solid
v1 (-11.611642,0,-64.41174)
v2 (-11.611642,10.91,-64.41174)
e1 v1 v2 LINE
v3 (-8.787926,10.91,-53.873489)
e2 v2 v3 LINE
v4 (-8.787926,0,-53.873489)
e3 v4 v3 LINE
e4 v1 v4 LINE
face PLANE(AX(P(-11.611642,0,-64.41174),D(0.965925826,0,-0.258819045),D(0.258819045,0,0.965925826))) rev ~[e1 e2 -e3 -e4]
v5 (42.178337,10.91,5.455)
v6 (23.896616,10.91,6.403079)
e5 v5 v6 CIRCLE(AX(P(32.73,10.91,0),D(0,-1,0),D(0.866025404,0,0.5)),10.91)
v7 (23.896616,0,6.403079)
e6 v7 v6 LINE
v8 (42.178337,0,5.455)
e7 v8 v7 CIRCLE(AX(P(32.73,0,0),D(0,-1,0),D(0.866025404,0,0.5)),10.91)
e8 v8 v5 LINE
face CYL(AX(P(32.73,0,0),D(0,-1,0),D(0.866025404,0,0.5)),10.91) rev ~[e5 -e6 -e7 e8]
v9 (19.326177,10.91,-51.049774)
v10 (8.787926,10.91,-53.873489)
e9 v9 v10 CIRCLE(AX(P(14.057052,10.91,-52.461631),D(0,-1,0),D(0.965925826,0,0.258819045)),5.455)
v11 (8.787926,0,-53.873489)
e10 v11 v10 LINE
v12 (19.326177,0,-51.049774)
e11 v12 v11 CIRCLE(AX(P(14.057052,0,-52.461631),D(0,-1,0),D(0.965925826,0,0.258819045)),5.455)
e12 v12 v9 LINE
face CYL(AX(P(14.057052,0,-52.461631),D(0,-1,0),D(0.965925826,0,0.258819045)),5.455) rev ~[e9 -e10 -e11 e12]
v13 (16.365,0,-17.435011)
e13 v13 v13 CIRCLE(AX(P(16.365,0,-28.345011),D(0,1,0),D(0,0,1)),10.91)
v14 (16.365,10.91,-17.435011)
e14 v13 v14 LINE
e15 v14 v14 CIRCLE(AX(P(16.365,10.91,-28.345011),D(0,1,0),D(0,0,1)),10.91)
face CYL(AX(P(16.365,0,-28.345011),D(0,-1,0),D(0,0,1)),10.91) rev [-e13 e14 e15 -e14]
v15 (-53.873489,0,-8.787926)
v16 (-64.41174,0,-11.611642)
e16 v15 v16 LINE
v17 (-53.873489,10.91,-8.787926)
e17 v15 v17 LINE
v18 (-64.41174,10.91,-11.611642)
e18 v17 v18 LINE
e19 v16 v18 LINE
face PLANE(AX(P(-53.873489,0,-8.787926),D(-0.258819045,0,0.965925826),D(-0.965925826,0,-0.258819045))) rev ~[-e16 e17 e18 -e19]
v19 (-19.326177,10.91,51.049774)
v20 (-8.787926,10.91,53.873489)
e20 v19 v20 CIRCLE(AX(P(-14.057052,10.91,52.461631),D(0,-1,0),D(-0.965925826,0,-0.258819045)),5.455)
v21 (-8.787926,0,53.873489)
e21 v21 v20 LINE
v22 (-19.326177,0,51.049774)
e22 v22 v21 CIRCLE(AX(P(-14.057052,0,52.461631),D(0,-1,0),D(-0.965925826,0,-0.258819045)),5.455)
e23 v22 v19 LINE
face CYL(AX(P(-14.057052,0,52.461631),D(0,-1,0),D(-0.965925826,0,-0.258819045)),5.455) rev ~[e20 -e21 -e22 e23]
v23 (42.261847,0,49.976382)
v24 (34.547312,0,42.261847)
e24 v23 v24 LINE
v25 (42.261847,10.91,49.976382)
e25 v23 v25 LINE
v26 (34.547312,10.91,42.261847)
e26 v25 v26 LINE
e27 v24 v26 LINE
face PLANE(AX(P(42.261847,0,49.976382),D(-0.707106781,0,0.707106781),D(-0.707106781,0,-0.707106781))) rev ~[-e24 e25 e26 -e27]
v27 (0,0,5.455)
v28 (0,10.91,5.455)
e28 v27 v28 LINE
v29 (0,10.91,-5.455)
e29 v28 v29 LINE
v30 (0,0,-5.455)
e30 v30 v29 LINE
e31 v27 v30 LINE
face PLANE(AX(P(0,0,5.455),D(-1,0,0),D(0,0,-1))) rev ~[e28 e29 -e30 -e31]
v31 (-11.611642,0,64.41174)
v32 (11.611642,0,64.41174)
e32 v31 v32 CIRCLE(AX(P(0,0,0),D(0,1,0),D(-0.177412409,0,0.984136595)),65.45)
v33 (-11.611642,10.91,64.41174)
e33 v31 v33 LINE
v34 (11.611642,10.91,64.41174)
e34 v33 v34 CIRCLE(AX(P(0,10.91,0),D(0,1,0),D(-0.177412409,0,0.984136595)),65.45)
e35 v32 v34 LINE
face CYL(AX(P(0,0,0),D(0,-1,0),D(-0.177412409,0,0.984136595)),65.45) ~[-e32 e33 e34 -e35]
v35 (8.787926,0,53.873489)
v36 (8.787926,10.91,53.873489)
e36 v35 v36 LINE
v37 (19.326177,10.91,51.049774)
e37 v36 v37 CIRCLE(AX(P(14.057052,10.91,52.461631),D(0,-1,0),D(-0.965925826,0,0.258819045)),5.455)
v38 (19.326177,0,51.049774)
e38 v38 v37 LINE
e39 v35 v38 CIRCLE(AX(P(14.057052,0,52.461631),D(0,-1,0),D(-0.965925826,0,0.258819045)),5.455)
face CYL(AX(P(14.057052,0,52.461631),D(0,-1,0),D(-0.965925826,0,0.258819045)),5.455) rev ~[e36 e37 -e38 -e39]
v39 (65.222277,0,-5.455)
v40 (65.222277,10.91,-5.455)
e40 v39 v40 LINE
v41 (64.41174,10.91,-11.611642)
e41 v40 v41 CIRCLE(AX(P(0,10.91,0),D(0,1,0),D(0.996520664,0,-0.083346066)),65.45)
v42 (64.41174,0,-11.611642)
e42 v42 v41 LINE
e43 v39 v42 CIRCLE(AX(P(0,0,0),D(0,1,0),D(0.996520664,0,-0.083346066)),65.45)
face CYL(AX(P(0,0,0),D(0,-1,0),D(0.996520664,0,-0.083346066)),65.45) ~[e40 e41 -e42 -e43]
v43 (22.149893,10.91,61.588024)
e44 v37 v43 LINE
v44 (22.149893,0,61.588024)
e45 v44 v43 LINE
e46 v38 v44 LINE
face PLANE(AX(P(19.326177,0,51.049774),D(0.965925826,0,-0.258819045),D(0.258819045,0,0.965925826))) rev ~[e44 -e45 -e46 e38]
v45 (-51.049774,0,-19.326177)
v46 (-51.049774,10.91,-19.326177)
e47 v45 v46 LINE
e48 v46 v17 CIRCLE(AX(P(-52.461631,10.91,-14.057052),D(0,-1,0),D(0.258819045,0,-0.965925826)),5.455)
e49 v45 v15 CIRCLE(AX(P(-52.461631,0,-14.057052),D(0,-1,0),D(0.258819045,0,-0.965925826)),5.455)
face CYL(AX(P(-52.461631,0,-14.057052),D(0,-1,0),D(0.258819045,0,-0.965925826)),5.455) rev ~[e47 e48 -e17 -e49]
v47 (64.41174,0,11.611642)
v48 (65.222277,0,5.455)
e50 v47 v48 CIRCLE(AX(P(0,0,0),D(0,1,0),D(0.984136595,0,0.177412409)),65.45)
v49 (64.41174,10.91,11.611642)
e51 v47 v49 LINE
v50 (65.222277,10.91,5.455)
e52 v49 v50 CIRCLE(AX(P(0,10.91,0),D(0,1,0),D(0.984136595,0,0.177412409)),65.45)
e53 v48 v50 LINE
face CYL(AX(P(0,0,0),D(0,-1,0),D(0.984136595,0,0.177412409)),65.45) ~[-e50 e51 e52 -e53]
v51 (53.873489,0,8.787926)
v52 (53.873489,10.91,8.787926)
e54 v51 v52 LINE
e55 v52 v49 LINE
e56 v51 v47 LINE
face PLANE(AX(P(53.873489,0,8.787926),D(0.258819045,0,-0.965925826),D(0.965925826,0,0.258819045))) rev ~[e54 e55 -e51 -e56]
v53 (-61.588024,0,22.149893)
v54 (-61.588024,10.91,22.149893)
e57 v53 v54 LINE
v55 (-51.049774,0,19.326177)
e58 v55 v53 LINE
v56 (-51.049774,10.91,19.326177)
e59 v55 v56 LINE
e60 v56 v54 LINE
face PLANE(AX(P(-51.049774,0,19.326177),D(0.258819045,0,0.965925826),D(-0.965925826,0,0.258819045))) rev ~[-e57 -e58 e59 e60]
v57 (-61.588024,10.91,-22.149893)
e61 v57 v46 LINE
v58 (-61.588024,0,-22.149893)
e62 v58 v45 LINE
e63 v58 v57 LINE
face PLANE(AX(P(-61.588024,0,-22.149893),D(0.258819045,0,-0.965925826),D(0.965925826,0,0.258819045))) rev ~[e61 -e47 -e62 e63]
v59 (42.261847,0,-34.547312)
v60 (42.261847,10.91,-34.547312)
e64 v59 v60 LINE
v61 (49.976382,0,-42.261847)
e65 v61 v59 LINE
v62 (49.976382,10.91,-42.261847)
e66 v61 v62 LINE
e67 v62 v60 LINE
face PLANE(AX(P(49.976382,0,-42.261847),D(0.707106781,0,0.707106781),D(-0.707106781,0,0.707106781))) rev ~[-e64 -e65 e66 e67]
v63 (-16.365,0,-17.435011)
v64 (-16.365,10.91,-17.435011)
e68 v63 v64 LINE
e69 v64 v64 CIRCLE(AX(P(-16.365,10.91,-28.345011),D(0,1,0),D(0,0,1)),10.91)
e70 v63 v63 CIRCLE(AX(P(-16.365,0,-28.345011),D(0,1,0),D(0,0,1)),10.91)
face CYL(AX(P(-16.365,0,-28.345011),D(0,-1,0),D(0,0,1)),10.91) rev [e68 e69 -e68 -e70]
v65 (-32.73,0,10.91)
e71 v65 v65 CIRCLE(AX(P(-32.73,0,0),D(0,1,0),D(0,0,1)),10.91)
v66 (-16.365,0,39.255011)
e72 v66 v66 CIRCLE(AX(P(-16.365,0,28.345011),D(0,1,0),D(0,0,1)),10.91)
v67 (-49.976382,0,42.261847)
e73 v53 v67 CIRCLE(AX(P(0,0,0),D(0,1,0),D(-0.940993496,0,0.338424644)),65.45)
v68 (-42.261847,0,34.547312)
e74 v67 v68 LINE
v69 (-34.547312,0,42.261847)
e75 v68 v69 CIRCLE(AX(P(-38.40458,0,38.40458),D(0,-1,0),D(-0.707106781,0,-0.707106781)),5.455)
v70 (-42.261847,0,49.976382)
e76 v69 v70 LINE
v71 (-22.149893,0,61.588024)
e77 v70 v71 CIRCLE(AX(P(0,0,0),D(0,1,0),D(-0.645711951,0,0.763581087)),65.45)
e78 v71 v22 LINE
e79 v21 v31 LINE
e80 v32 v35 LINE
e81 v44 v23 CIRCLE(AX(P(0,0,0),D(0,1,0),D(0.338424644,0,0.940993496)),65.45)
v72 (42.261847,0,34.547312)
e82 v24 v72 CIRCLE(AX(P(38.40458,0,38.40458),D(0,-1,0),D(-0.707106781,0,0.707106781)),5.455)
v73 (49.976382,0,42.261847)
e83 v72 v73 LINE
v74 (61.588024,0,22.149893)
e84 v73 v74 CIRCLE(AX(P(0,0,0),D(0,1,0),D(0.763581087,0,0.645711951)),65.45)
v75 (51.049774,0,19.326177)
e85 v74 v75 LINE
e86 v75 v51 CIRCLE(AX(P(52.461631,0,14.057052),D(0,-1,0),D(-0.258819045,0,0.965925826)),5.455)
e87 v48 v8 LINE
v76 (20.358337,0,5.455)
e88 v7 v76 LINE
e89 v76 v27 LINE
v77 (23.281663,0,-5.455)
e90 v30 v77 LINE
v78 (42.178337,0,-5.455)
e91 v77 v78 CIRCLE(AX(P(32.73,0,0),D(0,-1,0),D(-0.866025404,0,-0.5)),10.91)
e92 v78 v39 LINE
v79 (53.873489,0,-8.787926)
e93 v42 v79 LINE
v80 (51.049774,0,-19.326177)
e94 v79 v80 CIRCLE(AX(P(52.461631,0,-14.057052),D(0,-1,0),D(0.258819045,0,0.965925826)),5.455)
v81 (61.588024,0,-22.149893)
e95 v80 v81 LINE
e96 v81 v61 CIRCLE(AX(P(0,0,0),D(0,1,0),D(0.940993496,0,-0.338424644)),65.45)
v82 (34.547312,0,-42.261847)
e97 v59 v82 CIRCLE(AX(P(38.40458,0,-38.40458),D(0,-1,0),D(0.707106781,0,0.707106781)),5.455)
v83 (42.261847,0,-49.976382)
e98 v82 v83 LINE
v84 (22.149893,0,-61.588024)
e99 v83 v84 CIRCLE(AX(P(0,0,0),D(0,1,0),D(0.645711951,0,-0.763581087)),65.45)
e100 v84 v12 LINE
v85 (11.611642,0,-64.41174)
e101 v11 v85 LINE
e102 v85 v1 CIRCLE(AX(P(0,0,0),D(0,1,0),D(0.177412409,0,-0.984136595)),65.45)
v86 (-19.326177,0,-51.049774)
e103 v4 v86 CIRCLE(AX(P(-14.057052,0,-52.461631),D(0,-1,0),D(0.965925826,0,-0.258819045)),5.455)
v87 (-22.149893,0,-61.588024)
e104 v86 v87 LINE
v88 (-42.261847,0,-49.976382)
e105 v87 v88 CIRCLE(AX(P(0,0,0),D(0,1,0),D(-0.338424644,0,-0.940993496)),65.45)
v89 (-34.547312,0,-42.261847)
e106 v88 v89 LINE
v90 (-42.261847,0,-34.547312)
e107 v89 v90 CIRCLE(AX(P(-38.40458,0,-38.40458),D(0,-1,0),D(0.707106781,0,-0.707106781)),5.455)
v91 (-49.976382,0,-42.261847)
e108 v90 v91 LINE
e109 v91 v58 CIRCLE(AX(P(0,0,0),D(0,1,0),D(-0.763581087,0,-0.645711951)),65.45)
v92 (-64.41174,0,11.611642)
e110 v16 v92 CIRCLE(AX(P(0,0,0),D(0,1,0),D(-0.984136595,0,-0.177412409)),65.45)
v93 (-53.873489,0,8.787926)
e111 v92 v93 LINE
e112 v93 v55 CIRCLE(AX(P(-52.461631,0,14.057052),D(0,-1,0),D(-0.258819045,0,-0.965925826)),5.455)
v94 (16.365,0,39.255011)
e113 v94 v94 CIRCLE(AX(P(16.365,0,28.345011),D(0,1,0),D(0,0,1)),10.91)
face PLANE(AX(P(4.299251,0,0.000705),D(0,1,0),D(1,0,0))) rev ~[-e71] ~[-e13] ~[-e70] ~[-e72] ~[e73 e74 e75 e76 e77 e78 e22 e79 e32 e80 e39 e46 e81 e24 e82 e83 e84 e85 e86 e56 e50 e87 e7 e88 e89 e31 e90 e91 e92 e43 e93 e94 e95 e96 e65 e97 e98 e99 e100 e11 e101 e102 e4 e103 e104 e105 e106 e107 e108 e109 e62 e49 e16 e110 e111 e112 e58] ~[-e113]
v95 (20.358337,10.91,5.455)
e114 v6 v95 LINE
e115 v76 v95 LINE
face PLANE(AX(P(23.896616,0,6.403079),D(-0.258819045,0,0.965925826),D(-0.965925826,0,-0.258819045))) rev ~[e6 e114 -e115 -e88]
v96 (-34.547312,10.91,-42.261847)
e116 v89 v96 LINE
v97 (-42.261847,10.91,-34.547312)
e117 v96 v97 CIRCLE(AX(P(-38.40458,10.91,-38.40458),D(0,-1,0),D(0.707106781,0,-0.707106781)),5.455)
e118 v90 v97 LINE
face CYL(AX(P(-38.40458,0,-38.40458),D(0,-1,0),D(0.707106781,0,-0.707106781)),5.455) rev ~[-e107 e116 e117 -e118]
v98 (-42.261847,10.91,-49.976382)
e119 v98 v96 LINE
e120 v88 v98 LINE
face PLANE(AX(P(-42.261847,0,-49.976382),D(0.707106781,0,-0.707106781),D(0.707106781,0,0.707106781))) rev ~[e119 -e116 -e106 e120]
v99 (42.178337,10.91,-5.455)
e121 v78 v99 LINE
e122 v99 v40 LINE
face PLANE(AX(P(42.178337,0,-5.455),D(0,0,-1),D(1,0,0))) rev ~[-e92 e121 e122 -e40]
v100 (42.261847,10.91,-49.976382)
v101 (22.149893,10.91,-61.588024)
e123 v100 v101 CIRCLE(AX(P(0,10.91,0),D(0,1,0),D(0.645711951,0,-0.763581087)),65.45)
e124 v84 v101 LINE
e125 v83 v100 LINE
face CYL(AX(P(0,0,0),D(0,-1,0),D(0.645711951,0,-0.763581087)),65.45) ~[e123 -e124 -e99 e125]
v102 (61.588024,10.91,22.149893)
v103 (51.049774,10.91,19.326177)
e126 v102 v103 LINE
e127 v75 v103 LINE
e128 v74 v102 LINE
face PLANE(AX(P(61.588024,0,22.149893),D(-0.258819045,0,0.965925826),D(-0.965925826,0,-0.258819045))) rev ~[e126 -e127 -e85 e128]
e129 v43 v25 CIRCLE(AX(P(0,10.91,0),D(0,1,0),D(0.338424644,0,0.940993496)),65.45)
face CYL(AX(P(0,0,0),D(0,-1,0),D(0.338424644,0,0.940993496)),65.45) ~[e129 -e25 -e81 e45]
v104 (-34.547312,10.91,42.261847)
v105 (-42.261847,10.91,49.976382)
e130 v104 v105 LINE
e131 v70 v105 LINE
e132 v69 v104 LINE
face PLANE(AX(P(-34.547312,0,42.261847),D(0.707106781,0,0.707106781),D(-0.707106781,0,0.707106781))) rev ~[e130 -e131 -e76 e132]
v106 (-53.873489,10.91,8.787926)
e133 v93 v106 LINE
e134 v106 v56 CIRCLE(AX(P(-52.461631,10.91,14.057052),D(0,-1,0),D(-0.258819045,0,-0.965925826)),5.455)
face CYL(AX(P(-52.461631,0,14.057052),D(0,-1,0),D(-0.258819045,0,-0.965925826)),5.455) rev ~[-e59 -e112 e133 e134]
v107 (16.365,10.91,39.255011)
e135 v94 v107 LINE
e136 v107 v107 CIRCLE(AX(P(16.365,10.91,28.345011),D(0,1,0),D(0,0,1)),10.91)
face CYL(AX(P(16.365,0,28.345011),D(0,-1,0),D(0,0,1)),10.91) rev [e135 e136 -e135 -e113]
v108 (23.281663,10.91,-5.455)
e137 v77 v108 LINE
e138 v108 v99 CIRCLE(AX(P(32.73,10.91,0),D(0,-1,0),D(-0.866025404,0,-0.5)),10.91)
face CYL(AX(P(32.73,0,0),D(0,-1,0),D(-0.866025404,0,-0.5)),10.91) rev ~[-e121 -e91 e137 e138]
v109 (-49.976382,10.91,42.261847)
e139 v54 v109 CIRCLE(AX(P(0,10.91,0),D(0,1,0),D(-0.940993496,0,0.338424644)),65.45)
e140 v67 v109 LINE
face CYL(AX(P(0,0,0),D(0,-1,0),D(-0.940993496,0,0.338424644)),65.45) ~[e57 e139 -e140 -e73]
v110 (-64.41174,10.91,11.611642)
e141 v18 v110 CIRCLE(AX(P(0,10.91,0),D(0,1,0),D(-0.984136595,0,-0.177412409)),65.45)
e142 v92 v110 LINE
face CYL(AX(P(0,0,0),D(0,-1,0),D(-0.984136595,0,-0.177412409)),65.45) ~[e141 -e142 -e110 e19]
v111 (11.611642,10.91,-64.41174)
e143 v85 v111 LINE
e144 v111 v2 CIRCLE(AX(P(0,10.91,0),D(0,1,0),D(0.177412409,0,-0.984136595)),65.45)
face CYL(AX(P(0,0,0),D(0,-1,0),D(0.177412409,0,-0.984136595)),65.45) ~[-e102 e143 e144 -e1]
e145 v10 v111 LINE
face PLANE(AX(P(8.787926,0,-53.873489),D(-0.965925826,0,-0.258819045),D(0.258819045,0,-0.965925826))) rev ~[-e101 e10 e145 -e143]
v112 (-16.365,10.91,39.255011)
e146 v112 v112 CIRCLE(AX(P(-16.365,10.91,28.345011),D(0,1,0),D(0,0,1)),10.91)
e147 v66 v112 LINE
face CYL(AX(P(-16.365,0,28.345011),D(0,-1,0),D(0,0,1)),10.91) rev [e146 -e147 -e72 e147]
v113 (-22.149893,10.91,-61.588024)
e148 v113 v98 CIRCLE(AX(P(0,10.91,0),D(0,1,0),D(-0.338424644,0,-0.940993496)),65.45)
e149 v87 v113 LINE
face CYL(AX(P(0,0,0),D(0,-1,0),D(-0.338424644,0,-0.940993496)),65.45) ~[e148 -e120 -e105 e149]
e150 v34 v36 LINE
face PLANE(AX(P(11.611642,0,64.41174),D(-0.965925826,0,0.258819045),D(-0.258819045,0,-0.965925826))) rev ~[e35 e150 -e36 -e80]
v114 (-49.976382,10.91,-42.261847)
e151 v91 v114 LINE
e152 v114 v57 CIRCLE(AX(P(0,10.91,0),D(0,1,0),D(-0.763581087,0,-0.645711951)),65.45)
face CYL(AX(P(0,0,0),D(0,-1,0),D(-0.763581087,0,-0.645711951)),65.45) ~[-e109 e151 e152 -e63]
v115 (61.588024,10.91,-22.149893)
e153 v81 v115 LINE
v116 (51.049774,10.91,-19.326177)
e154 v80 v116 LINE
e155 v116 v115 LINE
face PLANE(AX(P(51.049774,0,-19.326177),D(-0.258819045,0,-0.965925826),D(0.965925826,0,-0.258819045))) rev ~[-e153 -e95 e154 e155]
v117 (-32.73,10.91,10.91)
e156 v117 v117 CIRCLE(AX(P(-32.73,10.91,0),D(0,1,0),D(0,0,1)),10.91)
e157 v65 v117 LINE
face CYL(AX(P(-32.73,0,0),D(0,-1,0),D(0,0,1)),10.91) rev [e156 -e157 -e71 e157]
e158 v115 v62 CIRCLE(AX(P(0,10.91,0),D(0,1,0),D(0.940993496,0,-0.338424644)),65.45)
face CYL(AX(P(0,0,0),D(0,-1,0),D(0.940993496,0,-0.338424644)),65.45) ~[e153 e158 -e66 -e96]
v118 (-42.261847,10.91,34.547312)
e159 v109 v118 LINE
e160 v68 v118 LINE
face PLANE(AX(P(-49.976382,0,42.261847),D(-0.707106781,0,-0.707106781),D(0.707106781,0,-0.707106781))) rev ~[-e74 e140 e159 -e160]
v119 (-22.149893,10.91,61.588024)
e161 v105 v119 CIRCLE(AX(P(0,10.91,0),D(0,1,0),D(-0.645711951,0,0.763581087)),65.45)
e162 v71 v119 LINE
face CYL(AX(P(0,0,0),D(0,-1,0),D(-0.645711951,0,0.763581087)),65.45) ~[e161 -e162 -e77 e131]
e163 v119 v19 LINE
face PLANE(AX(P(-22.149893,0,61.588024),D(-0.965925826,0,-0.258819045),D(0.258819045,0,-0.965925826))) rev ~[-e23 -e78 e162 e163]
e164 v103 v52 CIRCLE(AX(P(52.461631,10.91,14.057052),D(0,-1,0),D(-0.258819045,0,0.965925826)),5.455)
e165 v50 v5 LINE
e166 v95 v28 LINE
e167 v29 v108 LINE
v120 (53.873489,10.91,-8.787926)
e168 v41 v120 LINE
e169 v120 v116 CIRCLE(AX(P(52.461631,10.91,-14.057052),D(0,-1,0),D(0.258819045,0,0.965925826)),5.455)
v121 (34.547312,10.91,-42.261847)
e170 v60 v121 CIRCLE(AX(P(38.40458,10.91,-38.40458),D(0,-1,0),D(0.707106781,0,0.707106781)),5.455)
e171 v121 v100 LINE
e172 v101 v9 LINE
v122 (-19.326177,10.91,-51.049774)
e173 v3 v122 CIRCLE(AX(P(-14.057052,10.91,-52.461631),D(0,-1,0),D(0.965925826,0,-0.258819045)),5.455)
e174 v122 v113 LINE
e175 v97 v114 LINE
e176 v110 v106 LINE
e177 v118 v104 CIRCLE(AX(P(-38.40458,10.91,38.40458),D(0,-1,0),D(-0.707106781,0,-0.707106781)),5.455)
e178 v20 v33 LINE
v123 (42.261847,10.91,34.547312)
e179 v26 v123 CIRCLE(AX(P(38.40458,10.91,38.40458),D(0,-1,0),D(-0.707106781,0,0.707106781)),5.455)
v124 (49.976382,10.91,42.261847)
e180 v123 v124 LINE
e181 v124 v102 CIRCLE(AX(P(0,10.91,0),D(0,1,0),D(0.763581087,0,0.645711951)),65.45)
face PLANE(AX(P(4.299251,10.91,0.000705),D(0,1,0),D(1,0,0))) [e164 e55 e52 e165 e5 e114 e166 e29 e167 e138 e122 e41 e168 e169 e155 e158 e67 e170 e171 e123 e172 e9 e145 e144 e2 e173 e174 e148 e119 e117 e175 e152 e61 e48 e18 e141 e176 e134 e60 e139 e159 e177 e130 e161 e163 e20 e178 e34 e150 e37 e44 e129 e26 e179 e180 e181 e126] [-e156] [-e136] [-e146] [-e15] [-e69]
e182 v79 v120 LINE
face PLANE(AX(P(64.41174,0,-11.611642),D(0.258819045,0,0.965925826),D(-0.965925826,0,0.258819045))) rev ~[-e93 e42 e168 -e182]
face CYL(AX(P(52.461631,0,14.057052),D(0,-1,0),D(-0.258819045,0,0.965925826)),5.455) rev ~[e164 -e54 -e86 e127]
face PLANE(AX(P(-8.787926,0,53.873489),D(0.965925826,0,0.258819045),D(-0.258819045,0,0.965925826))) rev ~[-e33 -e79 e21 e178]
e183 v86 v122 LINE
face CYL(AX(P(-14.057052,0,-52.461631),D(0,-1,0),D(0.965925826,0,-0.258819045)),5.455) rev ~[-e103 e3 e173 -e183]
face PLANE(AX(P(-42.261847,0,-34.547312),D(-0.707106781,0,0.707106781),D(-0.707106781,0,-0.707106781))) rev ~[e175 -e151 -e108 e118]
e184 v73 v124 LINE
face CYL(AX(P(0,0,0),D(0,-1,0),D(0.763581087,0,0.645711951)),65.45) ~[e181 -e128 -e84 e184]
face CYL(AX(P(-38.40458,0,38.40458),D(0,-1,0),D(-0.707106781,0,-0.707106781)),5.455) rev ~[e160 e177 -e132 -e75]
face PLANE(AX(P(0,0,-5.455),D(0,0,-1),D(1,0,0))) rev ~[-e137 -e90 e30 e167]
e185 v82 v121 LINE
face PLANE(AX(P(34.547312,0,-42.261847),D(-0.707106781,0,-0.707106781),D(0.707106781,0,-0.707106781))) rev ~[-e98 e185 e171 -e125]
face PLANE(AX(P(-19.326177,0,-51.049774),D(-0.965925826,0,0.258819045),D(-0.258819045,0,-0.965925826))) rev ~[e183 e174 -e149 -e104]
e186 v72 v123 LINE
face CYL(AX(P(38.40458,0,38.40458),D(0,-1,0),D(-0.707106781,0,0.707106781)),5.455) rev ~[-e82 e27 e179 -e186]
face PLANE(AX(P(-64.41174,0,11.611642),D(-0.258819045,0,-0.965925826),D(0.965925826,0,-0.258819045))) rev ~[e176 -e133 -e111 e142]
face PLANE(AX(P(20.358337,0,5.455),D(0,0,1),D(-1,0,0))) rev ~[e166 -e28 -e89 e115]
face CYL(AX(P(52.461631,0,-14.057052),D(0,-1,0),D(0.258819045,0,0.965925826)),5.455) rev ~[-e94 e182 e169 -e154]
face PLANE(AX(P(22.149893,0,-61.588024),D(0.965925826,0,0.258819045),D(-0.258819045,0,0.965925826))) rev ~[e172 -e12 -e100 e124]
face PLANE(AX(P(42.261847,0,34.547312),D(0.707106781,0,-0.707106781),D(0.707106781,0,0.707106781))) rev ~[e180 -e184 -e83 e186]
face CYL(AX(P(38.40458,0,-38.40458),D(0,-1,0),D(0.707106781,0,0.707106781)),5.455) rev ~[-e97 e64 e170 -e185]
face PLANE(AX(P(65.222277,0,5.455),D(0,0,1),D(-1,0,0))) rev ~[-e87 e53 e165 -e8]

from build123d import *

# Parameters (mm, degrees)
SKETCH1_R           = 10.91
BOSS_EXTRUDE1_DEPTH = 10.91


with BuildPart() as part:
    # Sketch1 → Boss-Extrude1 (new body)
    with BuildSketch(Plane(origin=(0, 0, 0), x_dir=(1, 0, 0), z_dir=(0, 1, 0))):
        with BuildLine():
            Line((0, -5.455), (0, 5.455))
            Line((0, 5.455), (23.281662845, 5.455))
            ThreePointArc((23.281662845, 5.455), (32.73, 10.91), (42.178337155, 5.455))
            Line((42.178337155, 5.455), (65.222277444, 5.455))
            ThreePointArc((65.222277444, 5.455), (64.890066177, 8.542939281), (64.411740124, 11.611642185))
            Line((64.411740124, 11.611642185), (53.873489359, 8.787926403))
            ThreePointArc((53.873489359, 8.787926403), (47.192506085, 12.645193894), (51.049773577, 19.326177168))
            Line((51.049773577, 19.326177168), (61.588024342, 22.14989295))
            ThreePointArc((61.588024342, 22.14989295), (56.681362678, 32.725), (49.976382157, 42.261847174))
            Line((49.976382157, 42.261847174), (42.261847174, 34.547312191))
            ThreePointArc((42.261847174, 34.547312191), (34.547312191, 34.547312191), (34.547312191, 42.261847174))
            Line((34.547312191, 42.261847174), (42.261847174, 49.976382157))
            ThreePointArc((42.261847174, 49.976382157), (32.725, 56.681362678), (22.14989295, 61.588024342))
            Line((22.14989295, 61.588024342), (19.326177168, 51.049773577))
            ThreePointArc((19.326177168, 51.049773577), (12.645193894, 47.192506085), (8.787926403, 53.873489359))
            Line((8.787926403, 53.873489359), (11.611642185, 64.411740124))
            ThreePointArc((11.611642185, 64.411740124), (0, 65.45), (-11.611642185, 64.411740124))
            Line((-11.611642185, 64.411740124), (-8.787926403, 53.873489359))
            ThreePointArc((-8.787926403, 53.873489359), (-12.645193894, 47.192506085), (-19.326177168, 51.049773577))
            Line((-19.326177168, 51.049773577), (-22.14989295, 61.588024342))
            ThreePointArc((-22.14989295, 61.588024342), (-32.725, 56.681362678), (-42.261847174, 49.976382157))
            Line((-42.261847174, 49.976382157), (-34.547312191, 42.261847174))
            ThreePointArc((-34.547312191, 42.261847174), (-34.547312191, 34.547312191), (-42.261847174, 34.547312191))
            Line((-42.261847174, 34.547312191), (-49.976382157, 42.261847174))
            ThreePointArc((-49.976382157, 42.261847174), (-56.681362678, 32.725), (-61.588024342, 22.14989295))
            Line((-61.588024342, 22.14989295), (-51.049773577, 19.326177168))
            ThreePointArc((-51.049773577, 19.326177168), (-47.192506085, 12.645193894), (-53.873489359, 8.787926403))
            Line((-53.873489359, 8.787926403), (-64.411740124, 11.611642185))
            ThreePointArc((-64.411740124, 11.611642185), (-65.45, 0), (-64.411740124, -11.611642185))
            Line((-64.411740124, -11.611642185), (-53.873489359, -8.787926403))
            ThreePointArc((-53.873489359, -8.787926403), (-47.192506085, -12.645193894), (-51.049773577, -19.326177168))
            Line((-51.049773577, -19.326177168), (-61.588024342, -22.14989295))
            ThreePointArc((-61.588024342, -22.14989295), (-56.681362678, -32.725), (-49.976382157, -42.261847174))
            Line((-49.976382157, -42.261847174), (-42.261847174, -34.547312191))
            ThreePointArc((-42.261847174, -34.547312191), (-34.547312191, -34.547312191), (-34.547312191, -42.261847174))
            Line((-34.547312191, -42.261847174), (-42.261847174, -49.976382157))
            ThreePointArc((-42.261847174, -49.976382157), (-32.725, -56.681362678), (-22.14989295, -61.588024342))
            Line((-22.14989295, -61.588024342), (-19.326177168, -51.049773577))
            ThreePointArc((-19.326177168, -51.049773577), (-12.645193894, -47.192506085), (-8.787926403, -53.873489359))
            Line((-8.787926403, -53.873489359), (-11.611642185, -64.411740124))
            ThreePointArc((-11.611642185, -64.411740124), (0, -65.45), (11.611642185, -64.411740124))
            Line((11.611642185, -64.411740124), (8.787926403, -53.873489359))
            ThreePointArc((8.787926403, -53.873489359), (12.645193894, -47.192506085), (19.326177168, -51.049773577))
            Line((19.326177168, -51.049773577), (22.14989295, -61.588024342))
            ThreePointArc((22.14989295, -61.588024342), (32.725, -56.681362678), (42.261847174, -49.976382157))
            Line((42.261847174, -49.976382157), (34.547312191, -42.261847174))
            ThreePointArc((34.547312191, -42.261847174), (34.547312191, -34.547312191), (42.261847174, -34.547312191))
            Line((42.261847174, -34.547312191), (49.976382157, -42.261847174))
            ThreePointArc((49.976382157, -42.261847174), (56.681362678, -32.725), (61.588024342, -22.14989295))
            Line((61.588024342, -22.14989295), (51.049773577, -19.326177168))
            ThreePointArc((51.049773577, -19.326177168), (47.192506085, -12.645193894), (53.873489359, -8.787926403))
            Line((53.873489359, -8.787926403), (64.411740124, -11.611642185))
            ThreePointArc((64.411740124, -11.611642185), (64.890066177, -8.542939281), (65.222277444, -5.455))
            Line((65.222277444, -5.455), (42.178337155, -5.455))
            ThreePointArc((42.178337155, -5.455), (33.295026603, -10.895358871), (23.896615512, -6.403078828))
            Line((23.896615512, -6.403078828), (20.358337155, -5.455))
            Line((20.358337155, -5.455), (0, -5.455))
        make_face()
        with Locations(Location((-16.365, -28.345011466, 0), (0, 0, 270))):
            Circle(SKETCH1_R, mode=Mode.SUBTRACT)
        with Locations(Location((16.365, -28.345011466, 0), (0, 0, 270))):
            Circle(SKETCH1_R, mode=Mode.SUBTRACT)
        with Locations(Location((-32.73, 0, 0), (0, 0, 270))):
            Circle(SKETCH1_R, mode=Mode.SUBTRACT)
        with Locations(Location((-16.365, 28.345011466, 0), (0, 0, 270))):
            Circle(SKETCH1_R, mode=Mode.SUBTRACT)
        with Locations(Location((16.365, 28.345011466, 0), (0, 0, 270))):
            Circle(SKETCH1_R, mode=Mode.SUBTRACT)
    extrude(amount=BOSS_EXTRUDE1_DEPTH)


solid = part.part
